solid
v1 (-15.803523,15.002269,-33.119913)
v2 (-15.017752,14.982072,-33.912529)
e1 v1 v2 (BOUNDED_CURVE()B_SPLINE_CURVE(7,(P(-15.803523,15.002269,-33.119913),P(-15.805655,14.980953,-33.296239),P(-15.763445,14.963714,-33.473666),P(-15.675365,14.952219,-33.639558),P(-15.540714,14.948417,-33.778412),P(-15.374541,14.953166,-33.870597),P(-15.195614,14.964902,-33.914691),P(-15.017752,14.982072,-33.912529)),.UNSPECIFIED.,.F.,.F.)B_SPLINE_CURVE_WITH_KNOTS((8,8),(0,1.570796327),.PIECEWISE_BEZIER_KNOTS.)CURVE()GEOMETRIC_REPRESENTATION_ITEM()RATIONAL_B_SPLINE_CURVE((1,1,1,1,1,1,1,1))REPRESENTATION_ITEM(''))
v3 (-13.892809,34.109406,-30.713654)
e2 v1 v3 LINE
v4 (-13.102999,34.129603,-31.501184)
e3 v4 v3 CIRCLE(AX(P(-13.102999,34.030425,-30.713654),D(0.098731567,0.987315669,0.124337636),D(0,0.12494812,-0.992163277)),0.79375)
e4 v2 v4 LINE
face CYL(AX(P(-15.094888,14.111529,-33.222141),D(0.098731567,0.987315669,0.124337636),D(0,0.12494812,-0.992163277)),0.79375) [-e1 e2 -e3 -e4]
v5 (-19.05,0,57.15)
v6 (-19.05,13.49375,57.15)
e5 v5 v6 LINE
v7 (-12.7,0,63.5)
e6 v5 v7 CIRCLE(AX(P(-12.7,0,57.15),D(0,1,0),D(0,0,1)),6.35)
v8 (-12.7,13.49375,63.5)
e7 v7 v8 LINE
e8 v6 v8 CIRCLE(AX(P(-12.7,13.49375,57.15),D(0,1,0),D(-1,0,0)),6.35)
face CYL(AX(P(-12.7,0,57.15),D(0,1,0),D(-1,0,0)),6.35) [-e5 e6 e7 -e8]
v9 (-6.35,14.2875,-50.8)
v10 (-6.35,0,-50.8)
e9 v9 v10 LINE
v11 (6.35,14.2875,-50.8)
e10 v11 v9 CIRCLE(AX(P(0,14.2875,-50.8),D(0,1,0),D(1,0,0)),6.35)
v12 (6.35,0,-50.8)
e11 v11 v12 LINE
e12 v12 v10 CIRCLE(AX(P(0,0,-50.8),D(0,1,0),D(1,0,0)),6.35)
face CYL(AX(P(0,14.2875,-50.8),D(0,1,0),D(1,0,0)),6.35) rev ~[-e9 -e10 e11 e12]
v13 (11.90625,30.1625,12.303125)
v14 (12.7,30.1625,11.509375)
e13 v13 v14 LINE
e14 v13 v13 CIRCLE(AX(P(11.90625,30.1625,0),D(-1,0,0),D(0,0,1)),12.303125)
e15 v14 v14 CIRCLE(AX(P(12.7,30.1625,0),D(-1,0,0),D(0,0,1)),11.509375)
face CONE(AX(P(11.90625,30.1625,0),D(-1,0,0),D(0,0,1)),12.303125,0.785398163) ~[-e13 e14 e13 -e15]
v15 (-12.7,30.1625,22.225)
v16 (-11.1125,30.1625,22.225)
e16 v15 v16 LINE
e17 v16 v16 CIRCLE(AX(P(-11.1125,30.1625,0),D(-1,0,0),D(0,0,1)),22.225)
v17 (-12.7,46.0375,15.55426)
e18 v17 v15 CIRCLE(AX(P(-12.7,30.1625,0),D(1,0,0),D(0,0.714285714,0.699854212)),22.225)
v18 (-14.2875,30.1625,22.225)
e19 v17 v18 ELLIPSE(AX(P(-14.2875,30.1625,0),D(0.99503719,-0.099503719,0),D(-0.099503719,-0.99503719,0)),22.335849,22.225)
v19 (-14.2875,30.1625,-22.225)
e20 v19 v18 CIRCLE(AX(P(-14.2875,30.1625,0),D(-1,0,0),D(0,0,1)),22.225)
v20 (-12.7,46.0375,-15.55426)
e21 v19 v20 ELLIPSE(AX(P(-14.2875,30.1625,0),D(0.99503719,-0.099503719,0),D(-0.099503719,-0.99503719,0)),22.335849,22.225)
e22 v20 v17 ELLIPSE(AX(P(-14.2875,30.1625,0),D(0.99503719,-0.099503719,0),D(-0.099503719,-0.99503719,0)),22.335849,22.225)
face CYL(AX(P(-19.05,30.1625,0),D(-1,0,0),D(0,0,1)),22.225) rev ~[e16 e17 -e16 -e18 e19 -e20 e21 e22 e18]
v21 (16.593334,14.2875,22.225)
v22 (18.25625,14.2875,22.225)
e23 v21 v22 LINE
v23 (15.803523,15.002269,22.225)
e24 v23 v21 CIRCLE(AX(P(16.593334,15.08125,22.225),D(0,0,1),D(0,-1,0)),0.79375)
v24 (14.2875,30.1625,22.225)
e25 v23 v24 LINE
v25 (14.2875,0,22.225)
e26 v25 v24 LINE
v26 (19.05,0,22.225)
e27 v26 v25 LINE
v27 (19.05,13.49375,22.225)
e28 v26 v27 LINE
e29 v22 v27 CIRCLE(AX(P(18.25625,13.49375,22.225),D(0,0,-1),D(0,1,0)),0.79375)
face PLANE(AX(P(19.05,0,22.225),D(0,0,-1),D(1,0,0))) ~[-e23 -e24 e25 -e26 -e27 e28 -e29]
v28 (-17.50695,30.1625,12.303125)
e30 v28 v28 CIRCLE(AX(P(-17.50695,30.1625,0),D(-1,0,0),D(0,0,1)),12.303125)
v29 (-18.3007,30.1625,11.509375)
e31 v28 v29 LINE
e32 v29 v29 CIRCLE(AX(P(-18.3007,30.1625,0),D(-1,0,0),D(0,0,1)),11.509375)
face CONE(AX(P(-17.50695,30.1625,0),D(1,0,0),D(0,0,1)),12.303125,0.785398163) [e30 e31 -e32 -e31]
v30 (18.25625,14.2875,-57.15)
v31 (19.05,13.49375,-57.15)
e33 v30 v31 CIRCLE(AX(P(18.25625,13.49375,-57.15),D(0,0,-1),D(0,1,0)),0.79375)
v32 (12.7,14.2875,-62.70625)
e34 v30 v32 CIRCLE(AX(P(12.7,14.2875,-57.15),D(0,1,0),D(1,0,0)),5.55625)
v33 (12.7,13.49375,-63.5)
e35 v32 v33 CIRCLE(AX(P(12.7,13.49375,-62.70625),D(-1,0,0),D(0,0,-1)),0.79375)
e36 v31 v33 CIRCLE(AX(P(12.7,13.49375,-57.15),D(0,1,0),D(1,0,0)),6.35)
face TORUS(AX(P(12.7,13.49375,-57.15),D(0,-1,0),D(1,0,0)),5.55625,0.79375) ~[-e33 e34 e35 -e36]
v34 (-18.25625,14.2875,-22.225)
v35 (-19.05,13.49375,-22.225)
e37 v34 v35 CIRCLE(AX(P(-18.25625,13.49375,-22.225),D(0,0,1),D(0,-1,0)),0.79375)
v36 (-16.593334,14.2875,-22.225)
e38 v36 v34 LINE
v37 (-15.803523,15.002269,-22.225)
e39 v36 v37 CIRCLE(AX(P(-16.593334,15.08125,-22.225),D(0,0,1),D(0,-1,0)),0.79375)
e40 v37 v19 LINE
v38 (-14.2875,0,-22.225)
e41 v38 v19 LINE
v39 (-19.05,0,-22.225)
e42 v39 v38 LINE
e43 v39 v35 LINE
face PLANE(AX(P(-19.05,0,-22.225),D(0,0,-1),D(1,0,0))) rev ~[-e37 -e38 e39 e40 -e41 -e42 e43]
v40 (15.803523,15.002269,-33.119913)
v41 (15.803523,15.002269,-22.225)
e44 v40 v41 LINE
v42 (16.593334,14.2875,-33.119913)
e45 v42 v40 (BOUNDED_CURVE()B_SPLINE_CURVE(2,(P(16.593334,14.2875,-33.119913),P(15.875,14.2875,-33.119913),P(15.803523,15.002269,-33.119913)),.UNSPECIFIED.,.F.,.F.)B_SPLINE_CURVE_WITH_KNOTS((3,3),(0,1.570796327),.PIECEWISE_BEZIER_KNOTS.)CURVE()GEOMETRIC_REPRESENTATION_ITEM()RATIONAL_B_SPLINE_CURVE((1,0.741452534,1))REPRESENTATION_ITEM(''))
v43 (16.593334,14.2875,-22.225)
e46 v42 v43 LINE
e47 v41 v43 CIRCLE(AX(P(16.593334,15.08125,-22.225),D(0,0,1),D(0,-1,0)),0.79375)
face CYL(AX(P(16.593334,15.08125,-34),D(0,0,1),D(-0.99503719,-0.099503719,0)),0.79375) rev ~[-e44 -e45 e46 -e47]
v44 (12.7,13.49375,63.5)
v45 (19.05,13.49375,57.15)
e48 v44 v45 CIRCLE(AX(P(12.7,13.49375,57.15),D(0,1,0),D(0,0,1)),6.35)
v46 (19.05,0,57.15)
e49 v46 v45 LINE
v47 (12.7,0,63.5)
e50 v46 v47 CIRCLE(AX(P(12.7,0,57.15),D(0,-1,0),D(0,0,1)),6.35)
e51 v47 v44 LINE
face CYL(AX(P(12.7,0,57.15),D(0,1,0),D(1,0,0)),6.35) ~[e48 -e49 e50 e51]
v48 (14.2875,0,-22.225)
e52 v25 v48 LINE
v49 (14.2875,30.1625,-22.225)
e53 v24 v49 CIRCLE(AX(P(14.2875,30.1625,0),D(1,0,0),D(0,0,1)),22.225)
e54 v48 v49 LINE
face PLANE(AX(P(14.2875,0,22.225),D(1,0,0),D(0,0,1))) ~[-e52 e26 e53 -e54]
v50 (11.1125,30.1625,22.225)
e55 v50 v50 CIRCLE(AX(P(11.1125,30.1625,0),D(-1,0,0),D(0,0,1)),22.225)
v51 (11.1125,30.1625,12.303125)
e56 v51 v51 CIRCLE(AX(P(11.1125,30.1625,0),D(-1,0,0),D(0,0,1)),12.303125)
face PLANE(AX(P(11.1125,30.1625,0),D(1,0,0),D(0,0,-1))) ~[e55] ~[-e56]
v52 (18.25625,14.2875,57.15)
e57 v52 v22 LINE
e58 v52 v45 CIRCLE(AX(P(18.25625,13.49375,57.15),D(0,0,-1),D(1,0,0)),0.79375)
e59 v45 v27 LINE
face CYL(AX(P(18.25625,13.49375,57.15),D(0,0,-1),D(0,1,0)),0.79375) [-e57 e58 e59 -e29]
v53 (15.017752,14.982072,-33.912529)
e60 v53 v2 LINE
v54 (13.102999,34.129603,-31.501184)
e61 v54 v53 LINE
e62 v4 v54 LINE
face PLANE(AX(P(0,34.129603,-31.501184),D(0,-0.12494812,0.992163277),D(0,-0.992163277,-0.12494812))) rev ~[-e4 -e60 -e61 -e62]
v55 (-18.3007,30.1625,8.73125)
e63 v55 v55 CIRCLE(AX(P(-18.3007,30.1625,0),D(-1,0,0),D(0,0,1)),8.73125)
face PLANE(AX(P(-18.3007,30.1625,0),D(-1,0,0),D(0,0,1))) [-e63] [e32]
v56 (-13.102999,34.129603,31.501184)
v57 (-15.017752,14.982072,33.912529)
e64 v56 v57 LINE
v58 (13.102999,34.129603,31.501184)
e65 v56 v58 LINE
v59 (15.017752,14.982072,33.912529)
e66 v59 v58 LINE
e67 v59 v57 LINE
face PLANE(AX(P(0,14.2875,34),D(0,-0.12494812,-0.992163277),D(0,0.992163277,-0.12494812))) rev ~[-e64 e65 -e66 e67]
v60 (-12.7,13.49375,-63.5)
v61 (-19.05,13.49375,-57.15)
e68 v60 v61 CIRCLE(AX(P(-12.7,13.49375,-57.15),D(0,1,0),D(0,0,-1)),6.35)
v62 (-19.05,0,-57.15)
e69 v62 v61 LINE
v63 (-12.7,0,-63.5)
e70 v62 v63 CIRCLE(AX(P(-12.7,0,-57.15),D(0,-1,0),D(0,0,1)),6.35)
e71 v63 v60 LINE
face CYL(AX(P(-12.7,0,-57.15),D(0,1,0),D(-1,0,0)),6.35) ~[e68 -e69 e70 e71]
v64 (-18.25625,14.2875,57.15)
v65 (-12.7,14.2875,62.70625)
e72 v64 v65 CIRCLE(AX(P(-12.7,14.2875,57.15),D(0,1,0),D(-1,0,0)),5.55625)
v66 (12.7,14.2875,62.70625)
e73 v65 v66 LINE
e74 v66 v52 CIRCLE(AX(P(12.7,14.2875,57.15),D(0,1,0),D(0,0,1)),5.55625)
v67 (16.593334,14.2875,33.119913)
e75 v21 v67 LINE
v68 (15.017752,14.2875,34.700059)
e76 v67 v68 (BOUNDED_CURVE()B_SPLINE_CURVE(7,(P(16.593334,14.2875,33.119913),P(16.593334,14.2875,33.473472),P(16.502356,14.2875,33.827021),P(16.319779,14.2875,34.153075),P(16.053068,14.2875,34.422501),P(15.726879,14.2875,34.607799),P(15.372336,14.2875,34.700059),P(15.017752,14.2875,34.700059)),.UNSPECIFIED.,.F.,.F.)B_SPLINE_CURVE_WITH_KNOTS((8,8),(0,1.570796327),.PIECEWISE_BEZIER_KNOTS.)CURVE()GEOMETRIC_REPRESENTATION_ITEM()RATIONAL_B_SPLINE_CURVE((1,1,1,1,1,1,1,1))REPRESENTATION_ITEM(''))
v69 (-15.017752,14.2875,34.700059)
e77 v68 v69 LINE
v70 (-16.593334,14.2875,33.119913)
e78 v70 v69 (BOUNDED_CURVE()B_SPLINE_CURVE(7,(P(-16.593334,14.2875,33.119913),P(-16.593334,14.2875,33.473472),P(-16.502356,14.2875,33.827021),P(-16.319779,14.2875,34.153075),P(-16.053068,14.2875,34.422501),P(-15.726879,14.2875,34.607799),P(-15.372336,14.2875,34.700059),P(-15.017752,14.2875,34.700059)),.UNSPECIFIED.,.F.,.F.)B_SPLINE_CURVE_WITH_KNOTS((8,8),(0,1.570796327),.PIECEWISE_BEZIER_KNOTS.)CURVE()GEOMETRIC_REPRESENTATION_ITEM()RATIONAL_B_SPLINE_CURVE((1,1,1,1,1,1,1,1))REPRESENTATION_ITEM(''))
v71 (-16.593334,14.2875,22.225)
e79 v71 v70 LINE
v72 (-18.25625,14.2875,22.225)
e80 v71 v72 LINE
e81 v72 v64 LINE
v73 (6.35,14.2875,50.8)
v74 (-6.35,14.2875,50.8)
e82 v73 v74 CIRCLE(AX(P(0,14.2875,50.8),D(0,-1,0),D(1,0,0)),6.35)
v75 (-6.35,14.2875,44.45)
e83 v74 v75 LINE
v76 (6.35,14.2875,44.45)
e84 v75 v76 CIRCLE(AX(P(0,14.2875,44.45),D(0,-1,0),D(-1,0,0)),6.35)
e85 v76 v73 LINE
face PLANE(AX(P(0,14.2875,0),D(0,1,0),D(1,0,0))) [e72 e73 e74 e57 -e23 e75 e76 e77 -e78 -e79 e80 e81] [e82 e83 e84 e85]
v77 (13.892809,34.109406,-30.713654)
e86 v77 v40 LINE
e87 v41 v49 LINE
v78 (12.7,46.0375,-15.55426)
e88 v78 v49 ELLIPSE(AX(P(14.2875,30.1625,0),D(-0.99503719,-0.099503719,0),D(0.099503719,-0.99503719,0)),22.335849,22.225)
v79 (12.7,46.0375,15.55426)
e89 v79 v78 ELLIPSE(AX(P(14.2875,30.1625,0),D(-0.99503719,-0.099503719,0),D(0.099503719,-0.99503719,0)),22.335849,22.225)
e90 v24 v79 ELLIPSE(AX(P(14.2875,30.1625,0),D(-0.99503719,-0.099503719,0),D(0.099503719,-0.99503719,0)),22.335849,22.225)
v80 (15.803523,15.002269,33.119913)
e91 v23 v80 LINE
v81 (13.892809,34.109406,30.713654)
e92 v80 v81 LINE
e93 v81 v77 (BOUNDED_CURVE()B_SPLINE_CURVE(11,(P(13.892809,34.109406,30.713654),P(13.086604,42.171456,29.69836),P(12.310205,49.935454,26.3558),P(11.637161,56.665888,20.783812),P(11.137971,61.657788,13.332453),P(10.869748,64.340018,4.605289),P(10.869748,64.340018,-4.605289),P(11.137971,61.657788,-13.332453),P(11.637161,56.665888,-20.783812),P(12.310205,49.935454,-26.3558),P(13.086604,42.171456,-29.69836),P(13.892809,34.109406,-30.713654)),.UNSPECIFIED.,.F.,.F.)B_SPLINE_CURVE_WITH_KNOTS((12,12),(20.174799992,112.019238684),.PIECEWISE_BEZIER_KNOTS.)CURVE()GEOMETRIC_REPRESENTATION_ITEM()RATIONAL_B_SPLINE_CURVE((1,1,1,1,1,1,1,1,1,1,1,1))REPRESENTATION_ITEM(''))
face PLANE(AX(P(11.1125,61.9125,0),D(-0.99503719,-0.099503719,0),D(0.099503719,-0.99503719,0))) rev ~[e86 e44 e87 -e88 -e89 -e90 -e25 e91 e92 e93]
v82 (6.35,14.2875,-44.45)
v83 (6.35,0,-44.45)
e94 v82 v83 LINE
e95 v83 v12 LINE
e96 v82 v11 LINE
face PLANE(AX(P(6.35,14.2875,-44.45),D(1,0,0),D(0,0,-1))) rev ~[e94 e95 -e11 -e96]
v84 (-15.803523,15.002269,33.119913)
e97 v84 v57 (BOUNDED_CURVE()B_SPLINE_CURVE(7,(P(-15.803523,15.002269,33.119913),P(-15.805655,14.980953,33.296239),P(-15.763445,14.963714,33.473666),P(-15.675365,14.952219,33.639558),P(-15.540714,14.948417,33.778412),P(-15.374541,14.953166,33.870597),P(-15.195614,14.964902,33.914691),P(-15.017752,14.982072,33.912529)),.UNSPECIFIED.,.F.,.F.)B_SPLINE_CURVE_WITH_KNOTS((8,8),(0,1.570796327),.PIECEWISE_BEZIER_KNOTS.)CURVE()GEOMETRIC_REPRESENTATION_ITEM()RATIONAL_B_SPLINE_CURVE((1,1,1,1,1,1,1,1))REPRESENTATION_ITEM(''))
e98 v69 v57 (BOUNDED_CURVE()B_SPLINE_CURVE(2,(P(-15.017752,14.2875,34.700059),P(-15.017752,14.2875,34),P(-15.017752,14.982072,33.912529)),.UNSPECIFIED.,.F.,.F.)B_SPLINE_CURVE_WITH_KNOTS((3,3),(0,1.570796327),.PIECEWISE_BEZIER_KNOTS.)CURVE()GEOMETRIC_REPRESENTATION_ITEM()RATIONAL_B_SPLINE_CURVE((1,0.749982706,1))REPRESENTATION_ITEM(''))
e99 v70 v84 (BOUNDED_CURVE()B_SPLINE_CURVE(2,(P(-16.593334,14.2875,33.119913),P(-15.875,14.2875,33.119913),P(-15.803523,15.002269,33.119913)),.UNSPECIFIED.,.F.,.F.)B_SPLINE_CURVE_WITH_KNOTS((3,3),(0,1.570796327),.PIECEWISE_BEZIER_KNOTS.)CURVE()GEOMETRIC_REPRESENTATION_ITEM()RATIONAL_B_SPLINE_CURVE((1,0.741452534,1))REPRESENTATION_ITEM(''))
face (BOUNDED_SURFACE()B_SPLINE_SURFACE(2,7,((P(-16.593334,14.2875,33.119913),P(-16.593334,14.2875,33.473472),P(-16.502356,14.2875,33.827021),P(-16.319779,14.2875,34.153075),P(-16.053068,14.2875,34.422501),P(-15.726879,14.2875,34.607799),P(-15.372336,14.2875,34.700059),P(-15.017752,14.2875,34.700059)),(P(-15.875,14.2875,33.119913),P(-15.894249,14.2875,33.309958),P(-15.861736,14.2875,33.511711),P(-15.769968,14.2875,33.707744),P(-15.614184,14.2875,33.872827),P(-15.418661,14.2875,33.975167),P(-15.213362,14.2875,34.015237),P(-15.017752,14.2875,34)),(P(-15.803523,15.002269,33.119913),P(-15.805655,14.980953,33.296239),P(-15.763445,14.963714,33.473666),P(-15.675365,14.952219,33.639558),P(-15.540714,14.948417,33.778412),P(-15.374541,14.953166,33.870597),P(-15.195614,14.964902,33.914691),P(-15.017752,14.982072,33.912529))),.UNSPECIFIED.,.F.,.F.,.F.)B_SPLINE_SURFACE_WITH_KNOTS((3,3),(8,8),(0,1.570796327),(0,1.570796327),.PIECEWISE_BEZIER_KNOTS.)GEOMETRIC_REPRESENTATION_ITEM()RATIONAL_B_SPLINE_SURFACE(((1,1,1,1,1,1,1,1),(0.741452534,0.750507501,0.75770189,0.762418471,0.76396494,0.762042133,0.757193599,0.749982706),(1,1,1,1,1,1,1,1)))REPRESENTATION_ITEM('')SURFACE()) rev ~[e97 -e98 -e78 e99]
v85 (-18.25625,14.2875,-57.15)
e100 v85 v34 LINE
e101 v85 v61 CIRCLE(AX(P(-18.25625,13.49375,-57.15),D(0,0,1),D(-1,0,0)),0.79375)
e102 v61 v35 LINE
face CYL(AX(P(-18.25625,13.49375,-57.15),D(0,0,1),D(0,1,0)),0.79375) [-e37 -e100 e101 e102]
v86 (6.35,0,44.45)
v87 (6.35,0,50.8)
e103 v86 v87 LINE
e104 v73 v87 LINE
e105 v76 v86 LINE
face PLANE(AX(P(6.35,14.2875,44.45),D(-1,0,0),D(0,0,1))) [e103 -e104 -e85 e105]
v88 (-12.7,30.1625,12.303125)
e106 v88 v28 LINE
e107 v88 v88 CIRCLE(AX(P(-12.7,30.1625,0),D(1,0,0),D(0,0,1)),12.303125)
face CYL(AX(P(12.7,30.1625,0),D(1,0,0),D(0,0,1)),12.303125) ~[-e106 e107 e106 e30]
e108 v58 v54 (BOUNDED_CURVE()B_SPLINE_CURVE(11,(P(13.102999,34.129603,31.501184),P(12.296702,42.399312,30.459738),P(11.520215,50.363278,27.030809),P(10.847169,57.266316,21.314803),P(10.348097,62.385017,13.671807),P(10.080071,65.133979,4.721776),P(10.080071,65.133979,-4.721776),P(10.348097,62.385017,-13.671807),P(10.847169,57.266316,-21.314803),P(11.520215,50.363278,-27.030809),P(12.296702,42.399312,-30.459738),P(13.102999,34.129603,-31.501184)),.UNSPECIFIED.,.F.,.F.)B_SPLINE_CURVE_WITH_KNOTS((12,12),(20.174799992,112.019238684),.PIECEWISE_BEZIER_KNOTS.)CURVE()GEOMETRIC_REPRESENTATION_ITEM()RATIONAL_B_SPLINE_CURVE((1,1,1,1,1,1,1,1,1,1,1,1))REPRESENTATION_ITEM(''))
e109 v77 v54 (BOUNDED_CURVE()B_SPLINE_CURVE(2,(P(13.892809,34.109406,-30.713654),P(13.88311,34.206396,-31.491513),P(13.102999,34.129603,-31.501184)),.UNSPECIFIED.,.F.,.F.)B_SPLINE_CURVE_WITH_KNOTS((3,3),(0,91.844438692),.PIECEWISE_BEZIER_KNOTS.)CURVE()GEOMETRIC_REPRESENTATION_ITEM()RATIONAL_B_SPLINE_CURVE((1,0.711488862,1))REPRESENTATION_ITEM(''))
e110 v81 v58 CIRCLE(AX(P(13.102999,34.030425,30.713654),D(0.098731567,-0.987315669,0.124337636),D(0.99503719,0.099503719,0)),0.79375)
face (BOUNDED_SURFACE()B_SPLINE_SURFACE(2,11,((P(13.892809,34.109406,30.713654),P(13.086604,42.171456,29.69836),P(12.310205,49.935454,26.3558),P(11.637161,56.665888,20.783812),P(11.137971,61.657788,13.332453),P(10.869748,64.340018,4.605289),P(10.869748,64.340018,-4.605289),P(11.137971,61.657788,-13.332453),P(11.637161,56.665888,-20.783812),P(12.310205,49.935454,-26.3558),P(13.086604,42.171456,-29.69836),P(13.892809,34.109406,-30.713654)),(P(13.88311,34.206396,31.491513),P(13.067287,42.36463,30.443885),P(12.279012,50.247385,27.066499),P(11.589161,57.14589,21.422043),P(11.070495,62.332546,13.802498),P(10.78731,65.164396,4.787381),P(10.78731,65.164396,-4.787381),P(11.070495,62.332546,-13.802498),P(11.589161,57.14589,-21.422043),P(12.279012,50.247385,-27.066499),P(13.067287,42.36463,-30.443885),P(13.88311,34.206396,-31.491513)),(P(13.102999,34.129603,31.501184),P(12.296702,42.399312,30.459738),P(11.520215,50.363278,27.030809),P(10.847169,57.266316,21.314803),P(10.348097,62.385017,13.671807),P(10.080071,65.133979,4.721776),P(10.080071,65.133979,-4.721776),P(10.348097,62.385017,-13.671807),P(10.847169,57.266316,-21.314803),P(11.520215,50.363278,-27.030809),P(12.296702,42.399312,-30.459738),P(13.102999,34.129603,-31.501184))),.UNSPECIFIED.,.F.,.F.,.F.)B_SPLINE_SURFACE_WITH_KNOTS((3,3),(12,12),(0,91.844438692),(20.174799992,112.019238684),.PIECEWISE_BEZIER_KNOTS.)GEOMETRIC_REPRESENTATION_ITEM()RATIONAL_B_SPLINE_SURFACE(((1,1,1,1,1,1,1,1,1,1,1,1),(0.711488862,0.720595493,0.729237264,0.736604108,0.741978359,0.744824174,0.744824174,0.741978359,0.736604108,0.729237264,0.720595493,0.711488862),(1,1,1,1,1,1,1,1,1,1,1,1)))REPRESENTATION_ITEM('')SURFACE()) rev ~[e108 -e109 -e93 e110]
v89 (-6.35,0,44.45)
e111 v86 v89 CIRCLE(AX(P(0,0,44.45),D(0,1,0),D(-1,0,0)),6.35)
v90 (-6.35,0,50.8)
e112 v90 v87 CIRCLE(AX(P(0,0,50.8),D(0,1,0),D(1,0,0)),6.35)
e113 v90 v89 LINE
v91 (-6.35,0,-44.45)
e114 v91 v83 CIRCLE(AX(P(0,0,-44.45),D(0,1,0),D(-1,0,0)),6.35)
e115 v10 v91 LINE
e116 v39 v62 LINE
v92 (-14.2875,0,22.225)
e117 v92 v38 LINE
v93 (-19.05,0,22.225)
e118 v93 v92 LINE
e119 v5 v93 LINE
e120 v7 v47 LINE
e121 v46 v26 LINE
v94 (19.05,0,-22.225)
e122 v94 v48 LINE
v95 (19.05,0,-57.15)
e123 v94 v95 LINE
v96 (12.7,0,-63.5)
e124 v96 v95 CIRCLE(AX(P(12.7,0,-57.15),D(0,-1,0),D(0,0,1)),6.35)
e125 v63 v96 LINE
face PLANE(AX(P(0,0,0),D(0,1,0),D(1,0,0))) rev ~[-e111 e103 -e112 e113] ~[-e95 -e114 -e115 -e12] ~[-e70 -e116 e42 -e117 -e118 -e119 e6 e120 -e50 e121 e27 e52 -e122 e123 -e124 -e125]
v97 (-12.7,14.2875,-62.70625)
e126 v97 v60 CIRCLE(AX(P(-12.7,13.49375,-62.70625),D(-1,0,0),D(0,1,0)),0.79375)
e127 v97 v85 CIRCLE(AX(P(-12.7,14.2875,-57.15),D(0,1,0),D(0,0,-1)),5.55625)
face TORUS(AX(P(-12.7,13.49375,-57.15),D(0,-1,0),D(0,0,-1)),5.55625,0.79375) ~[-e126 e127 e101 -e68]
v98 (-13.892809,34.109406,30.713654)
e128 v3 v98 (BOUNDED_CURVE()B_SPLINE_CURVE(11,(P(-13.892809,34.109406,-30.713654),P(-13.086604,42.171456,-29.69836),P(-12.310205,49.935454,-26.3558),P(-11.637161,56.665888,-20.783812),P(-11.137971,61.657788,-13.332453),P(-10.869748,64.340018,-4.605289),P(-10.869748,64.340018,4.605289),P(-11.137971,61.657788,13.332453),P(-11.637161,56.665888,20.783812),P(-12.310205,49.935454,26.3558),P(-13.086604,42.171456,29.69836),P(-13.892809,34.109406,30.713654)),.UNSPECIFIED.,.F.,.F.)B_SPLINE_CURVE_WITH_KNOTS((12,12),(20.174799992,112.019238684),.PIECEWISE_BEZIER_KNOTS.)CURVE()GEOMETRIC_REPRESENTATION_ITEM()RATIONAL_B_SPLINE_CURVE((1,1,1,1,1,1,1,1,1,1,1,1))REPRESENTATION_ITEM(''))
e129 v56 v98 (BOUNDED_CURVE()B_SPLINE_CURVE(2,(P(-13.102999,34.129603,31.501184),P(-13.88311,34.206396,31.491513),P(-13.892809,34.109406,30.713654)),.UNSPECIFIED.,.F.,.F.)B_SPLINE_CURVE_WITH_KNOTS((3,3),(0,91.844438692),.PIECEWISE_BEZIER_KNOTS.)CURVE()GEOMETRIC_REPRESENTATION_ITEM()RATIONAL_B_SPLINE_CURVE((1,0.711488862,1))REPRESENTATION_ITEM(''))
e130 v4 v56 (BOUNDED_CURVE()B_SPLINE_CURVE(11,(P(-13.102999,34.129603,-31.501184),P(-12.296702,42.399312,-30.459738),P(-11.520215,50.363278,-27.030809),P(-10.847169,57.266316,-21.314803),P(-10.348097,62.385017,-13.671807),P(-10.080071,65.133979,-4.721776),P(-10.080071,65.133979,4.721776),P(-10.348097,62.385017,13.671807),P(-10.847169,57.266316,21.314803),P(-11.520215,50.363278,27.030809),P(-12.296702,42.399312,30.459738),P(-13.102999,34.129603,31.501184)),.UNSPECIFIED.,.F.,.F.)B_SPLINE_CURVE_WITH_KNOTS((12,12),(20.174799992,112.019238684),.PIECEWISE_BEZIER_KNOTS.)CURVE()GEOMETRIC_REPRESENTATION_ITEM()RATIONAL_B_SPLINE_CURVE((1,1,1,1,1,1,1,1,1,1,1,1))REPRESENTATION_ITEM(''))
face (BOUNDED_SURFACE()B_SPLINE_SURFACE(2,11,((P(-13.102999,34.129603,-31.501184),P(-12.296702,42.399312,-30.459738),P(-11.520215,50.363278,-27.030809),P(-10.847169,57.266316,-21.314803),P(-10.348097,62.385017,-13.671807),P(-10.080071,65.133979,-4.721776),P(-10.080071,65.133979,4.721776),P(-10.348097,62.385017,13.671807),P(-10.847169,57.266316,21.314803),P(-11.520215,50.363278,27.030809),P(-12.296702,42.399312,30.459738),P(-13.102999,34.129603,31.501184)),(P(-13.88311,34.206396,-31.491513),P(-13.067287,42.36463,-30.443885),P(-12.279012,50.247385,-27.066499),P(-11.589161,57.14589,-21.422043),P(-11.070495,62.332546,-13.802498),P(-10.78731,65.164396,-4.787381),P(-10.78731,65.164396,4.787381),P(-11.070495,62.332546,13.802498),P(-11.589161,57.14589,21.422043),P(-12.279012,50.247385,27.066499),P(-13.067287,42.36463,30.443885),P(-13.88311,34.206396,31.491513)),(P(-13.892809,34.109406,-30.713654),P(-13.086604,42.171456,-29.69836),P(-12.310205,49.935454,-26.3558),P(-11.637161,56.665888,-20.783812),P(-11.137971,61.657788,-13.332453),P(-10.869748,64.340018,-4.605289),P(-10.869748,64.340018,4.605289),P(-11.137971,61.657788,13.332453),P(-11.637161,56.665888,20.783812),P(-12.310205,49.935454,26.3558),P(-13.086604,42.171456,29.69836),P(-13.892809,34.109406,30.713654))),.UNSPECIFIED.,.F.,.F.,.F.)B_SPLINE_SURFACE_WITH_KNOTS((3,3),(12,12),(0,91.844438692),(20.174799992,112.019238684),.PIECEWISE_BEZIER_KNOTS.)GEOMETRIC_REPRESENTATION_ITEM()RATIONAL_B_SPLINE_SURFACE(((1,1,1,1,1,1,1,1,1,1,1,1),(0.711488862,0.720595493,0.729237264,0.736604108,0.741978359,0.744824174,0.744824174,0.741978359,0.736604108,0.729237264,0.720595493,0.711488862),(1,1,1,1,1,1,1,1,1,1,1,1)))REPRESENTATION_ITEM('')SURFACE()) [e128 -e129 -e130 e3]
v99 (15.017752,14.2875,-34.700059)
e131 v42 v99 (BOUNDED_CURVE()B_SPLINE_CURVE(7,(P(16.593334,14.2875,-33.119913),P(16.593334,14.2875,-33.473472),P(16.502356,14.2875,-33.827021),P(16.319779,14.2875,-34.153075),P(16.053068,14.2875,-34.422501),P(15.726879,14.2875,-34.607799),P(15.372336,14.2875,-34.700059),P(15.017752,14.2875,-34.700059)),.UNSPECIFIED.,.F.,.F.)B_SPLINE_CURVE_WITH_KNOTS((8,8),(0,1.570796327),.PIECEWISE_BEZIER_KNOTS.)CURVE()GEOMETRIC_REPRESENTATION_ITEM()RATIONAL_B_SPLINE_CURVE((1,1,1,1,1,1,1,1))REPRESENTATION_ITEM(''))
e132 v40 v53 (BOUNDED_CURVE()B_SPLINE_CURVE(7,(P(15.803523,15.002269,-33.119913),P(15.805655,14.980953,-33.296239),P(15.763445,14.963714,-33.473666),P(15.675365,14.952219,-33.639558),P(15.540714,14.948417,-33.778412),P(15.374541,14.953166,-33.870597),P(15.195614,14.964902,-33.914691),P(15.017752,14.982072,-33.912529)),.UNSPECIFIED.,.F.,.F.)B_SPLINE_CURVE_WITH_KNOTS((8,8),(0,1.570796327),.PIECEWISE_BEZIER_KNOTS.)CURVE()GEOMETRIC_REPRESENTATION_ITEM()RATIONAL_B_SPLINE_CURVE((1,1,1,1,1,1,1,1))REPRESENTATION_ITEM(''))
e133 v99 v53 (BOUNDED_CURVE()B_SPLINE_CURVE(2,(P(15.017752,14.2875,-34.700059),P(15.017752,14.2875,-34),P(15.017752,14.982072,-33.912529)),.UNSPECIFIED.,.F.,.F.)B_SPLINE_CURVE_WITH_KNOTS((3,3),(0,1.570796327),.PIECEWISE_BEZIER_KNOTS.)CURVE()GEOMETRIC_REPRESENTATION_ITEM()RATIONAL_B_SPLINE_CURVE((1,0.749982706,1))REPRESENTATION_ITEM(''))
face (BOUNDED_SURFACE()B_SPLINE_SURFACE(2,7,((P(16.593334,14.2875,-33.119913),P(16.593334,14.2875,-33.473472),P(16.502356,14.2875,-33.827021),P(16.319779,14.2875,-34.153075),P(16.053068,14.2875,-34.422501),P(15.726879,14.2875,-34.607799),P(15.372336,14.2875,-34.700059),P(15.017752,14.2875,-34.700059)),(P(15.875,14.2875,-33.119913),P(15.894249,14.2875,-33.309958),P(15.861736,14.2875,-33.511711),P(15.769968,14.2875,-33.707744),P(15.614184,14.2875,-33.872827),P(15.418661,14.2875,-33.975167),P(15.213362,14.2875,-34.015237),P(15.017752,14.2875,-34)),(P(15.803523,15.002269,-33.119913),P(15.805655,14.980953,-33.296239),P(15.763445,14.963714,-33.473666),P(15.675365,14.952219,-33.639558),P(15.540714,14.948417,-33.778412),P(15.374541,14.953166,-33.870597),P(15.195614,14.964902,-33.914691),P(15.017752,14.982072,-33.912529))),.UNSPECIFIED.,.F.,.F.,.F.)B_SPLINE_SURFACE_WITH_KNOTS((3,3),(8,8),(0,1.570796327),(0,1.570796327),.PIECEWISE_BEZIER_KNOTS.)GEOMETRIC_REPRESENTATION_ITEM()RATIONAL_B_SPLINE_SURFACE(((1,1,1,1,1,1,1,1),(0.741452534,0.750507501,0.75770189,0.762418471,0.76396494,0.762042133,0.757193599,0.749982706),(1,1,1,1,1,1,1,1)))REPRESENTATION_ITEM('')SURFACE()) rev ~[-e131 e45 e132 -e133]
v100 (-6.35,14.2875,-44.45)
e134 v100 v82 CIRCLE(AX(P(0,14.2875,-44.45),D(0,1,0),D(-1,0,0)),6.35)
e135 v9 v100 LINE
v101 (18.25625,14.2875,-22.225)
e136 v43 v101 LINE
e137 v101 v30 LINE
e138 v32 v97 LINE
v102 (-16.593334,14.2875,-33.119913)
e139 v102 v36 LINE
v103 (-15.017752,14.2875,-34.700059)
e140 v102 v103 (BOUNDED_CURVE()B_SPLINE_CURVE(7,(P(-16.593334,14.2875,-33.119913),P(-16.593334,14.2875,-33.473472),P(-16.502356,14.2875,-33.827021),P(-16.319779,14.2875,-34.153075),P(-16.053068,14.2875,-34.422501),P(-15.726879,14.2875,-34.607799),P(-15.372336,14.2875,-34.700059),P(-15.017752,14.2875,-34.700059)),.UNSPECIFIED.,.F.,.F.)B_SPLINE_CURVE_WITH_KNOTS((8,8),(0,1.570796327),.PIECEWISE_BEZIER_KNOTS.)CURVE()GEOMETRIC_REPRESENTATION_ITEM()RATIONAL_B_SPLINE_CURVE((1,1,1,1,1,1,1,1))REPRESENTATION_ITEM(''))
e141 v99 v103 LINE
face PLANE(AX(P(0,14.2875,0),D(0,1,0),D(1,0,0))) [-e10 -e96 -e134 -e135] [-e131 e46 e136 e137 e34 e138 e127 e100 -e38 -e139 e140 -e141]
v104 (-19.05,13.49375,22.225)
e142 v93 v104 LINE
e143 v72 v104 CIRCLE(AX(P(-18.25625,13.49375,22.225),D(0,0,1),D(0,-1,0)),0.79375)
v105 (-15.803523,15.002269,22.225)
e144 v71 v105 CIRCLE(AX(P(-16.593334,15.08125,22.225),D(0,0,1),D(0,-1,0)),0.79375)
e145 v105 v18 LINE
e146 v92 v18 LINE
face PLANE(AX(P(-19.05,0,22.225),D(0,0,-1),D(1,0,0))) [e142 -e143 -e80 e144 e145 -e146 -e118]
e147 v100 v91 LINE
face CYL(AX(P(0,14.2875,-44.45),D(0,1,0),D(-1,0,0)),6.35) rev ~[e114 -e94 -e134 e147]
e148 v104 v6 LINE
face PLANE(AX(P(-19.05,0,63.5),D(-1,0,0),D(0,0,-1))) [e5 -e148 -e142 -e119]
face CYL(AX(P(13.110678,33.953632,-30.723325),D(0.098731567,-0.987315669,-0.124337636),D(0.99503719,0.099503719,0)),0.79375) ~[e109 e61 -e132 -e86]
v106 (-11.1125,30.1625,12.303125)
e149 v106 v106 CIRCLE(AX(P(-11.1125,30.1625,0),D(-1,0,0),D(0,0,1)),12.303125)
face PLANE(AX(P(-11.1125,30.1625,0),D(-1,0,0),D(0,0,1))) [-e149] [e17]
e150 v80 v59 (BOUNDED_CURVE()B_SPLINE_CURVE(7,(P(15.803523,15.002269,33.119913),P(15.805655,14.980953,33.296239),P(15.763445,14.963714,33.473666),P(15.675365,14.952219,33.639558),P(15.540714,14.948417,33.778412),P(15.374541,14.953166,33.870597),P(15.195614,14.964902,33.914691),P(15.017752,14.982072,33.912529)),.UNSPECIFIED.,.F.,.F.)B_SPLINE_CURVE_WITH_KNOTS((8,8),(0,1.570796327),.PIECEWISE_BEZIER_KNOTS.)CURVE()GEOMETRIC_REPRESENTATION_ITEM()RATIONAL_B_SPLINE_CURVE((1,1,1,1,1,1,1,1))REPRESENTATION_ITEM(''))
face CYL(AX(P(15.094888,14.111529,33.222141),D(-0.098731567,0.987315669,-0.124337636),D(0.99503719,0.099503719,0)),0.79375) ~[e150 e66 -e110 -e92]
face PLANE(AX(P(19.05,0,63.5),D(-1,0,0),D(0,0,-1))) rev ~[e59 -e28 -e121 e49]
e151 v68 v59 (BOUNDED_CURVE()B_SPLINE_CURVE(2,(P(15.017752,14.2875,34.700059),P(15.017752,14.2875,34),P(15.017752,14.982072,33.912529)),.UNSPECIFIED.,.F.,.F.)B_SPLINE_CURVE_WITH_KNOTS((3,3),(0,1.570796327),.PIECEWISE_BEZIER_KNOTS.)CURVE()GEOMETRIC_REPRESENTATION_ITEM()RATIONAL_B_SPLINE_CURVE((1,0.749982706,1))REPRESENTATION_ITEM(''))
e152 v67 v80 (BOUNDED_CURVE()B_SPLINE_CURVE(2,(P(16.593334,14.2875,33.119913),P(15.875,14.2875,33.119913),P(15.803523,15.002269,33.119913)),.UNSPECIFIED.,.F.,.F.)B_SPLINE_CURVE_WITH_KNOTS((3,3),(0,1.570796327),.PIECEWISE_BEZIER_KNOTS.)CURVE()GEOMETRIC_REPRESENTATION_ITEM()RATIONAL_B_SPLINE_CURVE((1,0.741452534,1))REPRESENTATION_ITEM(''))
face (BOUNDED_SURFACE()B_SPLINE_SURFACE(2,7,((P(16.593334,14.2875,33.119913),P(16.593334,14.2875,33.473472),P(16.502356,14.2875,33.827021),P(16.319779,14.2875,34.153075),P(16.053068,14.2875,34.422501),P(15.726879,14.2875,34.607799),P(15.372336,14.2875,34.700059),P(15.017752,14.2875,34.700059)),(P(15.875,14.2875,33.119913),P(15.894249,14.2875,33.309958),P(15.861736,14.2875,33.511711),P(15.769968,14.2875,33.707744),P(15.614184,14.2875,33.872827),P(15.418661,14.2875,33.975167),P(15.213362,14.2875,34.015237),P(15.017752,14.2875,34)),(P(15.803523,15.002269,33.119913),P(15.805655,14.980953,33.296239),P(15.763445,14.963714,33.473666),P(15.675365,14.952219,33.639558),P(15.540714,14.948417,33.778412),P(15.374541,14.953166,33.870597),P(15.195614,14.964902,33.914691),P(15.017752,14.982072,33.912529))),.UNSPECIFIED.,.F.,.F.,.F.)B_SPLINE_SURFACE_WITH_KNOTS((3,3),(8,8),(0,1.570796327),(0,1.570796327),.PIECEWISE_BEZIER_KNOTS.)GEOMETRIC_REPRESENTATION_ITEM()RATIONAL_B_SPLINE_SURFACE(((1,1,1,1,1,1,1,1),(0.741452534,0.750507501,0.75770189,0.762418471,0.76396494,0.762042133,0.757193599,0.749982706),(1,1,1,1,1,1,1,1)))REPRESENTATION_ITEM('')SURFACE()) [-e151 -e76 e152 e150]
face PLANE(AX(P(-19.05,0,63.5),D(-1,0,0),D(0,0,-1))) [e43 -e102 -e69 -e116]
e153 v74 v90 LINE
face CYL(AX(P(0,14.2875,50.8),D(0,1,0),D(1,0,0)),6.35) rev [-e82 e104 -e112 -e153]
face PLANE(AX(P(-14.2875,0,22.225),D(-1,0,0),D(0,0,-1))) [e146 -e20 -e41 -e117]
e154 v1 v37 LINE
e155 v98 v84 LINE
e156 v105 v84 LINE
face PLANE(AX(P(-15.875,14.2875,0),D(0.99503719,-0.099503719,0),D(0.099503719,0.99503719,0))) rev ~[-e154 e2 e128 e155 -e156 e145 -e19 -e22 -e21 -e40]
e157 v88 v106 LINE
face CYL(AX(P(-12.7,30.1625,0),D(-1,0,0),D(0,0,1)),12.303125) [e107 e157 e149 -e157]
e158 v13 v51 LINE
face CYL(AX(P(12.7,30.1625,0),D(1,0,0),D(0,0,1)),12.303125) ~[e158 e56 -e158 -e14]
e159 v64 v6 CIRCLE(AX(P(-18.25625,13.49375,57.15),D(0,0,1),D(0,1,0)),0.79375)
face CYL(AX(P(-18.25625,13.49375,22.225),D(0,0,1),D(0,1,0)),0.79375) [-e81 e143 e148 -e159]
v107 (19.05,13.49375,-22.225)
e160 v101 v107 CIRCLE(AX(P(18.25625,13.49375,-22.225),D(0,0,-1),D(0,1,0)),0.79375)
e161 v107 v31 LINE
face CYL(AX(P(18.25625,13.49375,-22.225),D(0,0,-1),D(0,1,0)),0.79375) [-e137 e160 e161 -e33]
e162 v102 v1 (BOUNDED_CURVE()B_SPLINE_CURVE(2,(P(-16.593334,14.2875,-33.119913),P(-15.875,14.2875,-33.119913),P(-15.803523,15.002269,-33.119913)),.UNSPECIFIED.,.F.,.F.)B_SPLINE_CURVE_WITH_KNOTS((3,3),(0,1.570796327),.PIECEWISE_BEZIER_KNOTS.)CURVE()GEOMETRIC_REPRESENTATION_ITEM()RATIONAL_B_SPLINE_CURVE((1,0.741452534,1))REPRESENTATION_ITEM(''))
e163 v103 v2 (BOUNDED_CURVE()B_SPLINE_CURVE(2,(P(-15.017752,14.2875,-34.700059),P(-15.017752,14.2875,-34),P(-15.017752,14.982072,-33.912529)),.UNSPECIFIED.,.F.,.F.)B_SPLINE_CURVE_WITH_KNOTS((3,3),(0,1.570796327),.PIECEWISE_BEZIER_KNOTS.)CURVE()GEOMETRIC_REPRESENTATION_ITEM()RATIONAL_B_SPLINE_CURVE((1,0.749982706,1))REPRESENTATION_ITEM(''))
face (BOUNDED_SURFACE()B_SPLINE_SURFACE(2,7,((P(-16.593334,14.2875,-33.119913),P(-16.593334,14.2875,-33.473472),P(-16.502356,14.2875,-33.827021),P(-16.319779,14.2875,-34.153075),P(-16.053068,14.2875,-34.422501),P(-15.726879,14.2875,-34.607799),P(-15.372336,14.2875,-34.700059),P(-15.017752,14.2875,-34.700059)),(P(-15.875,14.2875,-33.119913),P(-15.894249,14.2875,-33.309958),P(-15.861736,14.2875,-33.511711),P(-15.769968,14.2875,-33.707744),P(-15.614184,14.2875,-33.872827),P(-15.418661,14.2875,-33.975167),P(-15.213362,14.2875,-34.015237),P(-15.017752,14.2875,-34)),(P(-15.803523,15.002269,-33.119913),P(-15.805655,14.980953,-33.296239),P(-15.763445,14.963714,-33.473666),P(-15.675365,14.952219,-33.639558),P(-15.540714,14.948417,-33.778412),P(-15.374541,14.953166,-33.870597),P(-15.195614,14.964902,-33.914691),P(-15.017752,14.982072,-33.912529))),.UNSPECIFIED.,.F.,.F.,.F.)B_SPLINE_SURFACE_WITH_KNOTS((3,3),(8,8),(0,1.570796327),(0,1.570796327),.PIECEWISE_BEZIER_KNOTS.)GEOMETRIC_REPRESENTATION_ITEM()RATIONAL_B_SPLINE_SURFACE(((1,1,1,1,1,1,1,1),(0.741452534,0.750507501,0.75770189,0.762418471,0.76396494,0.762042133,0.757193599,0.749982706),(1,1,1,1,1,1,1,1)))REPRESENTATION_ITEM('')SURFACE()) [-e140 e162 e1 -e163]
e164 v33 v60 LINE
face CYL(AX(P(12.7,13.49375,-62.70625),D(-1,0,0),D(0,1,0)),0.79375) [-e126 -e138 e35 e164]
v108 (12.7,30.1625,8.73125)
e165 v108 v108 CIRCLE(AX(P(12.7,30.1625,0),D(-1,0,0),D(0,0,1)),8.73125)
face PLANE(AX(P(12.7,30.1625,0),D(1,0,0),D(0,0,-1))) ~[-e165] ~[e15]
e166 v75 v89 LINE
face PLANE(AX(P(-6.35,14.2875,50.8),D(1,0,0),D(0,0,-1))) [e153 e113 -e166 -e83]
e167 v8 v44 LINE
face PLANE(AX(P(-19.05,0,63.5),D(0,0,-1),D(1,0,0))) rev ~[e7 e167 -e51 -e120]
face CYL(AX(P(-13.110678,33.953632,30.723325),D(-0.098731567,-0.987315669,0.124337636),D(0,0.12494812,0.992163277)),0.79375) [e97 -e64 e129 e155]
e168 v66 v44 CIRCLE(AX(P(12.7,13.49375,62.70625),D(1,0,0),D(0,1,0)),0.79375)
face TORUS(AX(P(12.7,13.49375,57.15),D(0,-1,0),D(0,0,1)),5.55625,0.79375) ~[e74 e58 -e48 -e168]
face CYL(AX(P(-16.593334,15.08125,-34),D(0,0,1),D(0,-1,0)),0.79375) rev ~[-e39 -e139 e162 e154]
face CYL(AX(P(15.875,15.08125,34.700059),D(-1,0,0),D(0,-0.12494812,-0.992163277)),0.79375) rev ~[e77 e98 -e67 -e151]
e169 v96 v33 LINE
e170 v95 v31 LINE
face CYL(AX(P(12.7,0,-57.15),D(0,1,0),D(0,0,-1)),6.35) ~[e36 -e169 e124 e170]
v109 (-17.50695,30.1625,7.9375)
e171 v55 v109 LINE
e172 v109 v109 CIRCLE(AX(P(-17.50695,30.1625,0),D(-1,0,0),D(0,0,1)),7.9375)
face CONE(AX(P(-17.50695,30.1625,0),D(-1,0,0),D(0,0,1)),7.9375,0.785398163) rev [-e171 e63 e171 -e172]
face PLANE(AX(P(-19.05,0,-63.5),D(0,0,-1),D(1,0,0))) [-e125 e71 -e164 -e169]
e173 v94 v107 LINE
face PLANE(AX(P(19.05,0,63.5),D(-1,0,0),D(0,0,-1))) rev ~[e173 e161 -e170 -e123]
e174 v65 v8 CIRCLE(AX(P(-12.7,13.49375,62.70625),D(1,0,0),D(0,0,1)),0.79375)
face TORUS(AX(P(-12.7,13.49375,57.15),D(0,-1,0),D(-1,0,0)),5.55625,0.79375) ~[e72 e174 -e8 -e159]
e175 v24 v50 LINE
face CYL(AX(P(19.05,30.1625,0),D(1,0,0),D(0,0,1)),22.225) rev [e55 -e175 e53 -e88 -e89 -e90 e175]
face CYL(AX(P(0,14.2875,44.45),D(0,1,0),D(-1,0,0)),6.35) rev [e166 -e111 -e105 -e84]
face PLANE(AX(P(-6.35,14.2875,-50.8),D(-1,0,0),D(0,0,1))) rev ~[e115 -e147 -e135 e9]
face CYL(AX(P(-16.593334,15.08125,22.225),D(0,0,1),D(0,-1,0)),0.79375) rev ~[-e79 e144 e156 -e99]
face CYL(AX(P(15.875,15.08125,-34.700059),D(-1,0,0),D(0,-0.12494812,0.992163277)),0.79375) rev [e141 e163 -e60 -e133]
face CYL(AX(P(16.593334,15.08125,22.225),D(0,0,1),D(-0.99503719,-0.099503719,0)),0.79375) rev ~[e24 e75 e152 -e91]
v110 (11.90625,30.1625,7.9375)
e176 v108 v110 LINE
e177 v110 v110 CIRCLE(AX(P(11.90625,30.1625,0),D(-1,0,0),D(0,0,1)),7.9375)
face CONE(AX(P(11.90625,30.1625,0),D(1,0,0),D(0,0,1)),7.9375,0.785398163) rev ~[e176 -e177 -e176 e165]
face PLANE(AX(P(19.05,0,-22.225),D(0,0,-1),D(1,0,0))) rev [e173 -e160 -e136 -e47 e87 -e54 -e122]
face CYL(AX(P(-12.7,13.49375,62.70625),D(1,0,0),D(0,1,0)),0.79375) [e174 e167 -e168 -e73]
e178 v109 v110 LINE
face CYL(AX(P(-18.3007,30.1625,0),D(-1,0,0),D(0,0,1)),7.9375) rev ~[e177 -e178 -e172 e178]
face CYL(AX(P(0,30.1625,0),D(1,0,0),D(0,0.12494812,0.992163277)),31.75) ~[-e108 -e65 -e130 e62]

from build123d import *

# Parameters (mm, degrees)
SKETCH1_W           = 38.1
SKETCH1_H           = 127
BOSS_EXTRUDE1_DEPTH = 14.2875
BOSS_EXTRUDE2_DEPTH = 34
CUT_EXTRUDE1_DEPTH  = 25.4
SKETCH4_W           = 4.7625
SKETCH4_H           = 44.45
CUT_EXTRUDE2_DEPTH  = 62.9125
SKETCH6_R           = 22.225
CUT_EXTRUDE4_DEPTH  = 6.35
CUT_EXTRUDE5_DEPTH  = 15.2875
SKETCH8_R           = 12.303125
BOSS_EXTRUDE3_DEPTH = 31.0007
SKETCH9_R           = 7.9375
CUT_EXTRUDE6_DEPTH  = 38.3507
SKETCH10_R          = 22.225
SKETCH10_R_2        = 12.303125
CUT_EXTRUDE7_DEPTH  = 1.5875
FILLET1_R           = 6.35
FILLET3_R           = 0.79375
CHAMFER2_SIZE       = 0.79375
FILLET5_R           = 0.79375


with BuildPart() as part:
    # Sketch1 → Boss-Extrude1 (new body)
    with BuildSketch(Plane(origin=(0, 0, 0), x_dir=(1, 0, 0), z_dir=(0, 1, 0))):
        Rectangle(SKETCH1_W, SKETCH1_H)
    extrude(amount=BOSS_EXTRUDE1_DEPTH)

    # Sketch2 → Boss-Extrude2 (add, symmetric)
    with BuildSketch(Plane.XY):
        Polygon((-15.875, 14.2875), (-11.1125, 61.9125), (11.1125, 61.9125), (15.875, 14.2875), align=None)
    extrude(amount=BOSS_EXTRUDE2_DEPTH, both=True)

    # Sketch3 → Cut-Extrude1 (cut, symmetric)
    with BuildSketch(Plane(origin=(0, 0, 0), x_dir=(0, 0, -1), z_dir=(1, 0, 0))):
        with BuildLine():
            Line((-34, 14.2875), (-31.501184031, 34.129602806))
            ThreePointArc((-31.501184031, 34.129602806), (0, 61.9125), (31.501184031, 34.129602806))
            Line((31.501184031, 34.129602806), (34, 14.2875))
            Line((34, 14.2875), (34, 65.0875))
            Line((34, 65.0875), (-34, 65.0875))
            Line((-34, 65.0875), (-34, 14.2875))
        make_face()
    extrude(amount=CUT_EXTRUDE1_DEPTH, both=True, mode=Mode.SUBTRACT)

    # Sketch4 → Cut-Extrude2 (cut, through all)
    with BuildSketch(Plane(origin=(0, 0, 0), x_dir=(1, 0, 0), z_dir=(0, 1, 0))):
        with Locations((-16.66875, 0)):
            Rectangle(SKETCH4_W, SKETCH4_H)
    cut_extrude2 = extrude(amount=CUT_EXTRUDE2_DEPTH, mode=Mode.SUBTRACT)

    # Sketch6 → Cut-Extrude4 (cut)
    with BuildSketch(Plane.ZY.offset(19.05)):
        with Locations((0, 30.1625)):
            Circle(SKETCH6_R)
    cut_extrude4 = extrude(amount=-CUT_EXTRUDE4_DEPTH, mode=Mode.SUBTRACT)

    # Sketch7 → Cut-Extrude5 (cut, through all)
    with BuildSketch(Plane(origin=(0, 14.2875, 0), x_dir=(1, 0, 0), z_dir=(0, 1, 0))):
        with BuildLine():
            Line((6.35, -44.45), (6.35, -50.8))
            ThreePointArc((6.35, -50.8), (0, -57.15), (-6.35, -50.8))
            Line((-6.35, -50.8), (-6.35, -44.45))
            ThreePointArc((-6.35, -44.45), (0, -38.1), (6.35, -44.45))
        make_face()
        with BuildLine():
            Line((6.35, 44.45), (6.35, 50.8))
            ThreePointArc((6.35, 50.8), (0, 57.15), (-6.35, 50.8))
            Line((-6.35, 50.8), (-6.35, 44.45))
            ThreePointArc((-6.35, 44.45), (0, 38.1), (6.35, 44.45))
        make_face()
    extrude(amount=-CUT_EXTRUDE5_DEPTH, mode=Mode.SUBTRACT)

    # Sketch8 → Boss-Extrude3 (add)
    with BuildSketch(Plane.ZY.offset(-12.7)):
        with Locations((0, 30.1625)):
            Circle(SKETCH8_R)
    extrude(amount=BOSS_EXTRUDE3_DEPTH)

    # Sketch9 → Cut-Extrude6 (cut, through all)
    with BuildSketch(Plane.ZY.offset(18.3007)):
        with Locations((0, 30.1625)):
            Circle(SKETCH9_R)
    extrude(amount=-CUT_EXTRUDE6_DEPTH, mode=Mode.SUBTRACT)

    # Sketch10 → Cut-Extrude7 (cut)
    with BuildSketch(Plane.ZY.offset(12.7)):
        with Locations((0, 30.1625)):
            Circle(SKETCH10_R)
        with Locations((0, 30.1625)):
            Circle(SKETCH10_R_2, mode=Mode.SUBTRACT)
    cut_extrude7 = extrude(amount=-CUT_EXTRUDE7_DEPTH, mode=Mode.SUBTRACT)

    # Mirror2: Cut-Extrude2, Cut-Extrude4, Cut-Extrude7 across plane
    add(cut_extrude2.mirror(Plane(origin=(0, 0, 0), x_dir=(0, 0, 1), z_dir=(1, 0, 0))), mode=Mode.SUBTRACT)
    add(cut_extrude4.mirror(Plane(origin=(0, 0, 0), x_dir=(0, 0, 1), z_dir=(1, 0, 0))), mode=Mode.SUBTRACT)
    add(cut_extrude7.mirror(Plane(origin=(0, 0, 0), x_dir=(0, 0, 1), z_dir=(1, 0, 0))), mode=Mode.SUBTRACT)

    # Fillet1
    fillet1_edges = [part.edges().sort_by_distance(p)[0] for p in [
        (19.05, 7.14375, 63.5),
        (-19.05, 7.14375, 63.5),
        (-19.05, 7.14375, -63.5),
        (19.05, 7.14375, -63.5),
    ]]
    fillet(fillet1_edges, radius=FILLET1_R)

    # Fillet3
    fillet3_edges = [part.edges().sort_by_distance(p)[0] for p in [
        (19.05, 14.2875, -39.6875),
        (0, 14.2875, -63.5),
        (-19.05, 14.2875, -39.6875),
        (-17.190128061, 14.2875, -61.640128061),
        (17.190128061, 14.2875, -61.640128061),
        (19.05, 14.2875, 39.6875),
        (0, 14.2875, 63.5),
        (-17.190128061, 14.2875, 61.640128061),
        (17.190128061, 14.2875, 61.640128061),
        (-19.05, 14.2875, 39.6875),
    ]]
    fillet(fillet3_edges, radius=FILLET3_R)

    # Chamfer2
    chamfer2_edges = [part.edges().sort_by_distance(p)[0] for p in [
        (-18.3007, 30.1625, -12.303125),
        (-18.3007, 30.1625, -7.9375),
        (12.7, 30.1625, -7.9375),
        (12.7, 30.1625, -12.303125),
    ]]
    chamfer(chamfer2_edges, length=CHAMFER2_SIZE)

    # Fillet5
    fillet5_edges = [part.edges().sort_by_distance(p)[0] for p in [
        (15.875, 14.2875, -28.1125),
        (0, 14.2875, -34),
        (-15.875, 14.2875, 28.1125),
        (15.875, 14.2875, 28.1125),
        (0, 14.2875, 34),
        (-11.908575206, 53.951747942, 21.026987001),
        (11.908575206, 53.951747942, -21.026987001),
        (14.88289486, 24.208551403, 32.750592015),
        (-14.88289486, 24.208551403, 32.750592015),
        (14.88289486, 24.208551403, -32.750592015),
        (-14.88289486, 24.208551403, -32.750592015),
        (-15.875, 14.2875, -28.1125),
    ]]
    fillet(fillet5_edges, radius=FILLET5_R)


solid = part.part
